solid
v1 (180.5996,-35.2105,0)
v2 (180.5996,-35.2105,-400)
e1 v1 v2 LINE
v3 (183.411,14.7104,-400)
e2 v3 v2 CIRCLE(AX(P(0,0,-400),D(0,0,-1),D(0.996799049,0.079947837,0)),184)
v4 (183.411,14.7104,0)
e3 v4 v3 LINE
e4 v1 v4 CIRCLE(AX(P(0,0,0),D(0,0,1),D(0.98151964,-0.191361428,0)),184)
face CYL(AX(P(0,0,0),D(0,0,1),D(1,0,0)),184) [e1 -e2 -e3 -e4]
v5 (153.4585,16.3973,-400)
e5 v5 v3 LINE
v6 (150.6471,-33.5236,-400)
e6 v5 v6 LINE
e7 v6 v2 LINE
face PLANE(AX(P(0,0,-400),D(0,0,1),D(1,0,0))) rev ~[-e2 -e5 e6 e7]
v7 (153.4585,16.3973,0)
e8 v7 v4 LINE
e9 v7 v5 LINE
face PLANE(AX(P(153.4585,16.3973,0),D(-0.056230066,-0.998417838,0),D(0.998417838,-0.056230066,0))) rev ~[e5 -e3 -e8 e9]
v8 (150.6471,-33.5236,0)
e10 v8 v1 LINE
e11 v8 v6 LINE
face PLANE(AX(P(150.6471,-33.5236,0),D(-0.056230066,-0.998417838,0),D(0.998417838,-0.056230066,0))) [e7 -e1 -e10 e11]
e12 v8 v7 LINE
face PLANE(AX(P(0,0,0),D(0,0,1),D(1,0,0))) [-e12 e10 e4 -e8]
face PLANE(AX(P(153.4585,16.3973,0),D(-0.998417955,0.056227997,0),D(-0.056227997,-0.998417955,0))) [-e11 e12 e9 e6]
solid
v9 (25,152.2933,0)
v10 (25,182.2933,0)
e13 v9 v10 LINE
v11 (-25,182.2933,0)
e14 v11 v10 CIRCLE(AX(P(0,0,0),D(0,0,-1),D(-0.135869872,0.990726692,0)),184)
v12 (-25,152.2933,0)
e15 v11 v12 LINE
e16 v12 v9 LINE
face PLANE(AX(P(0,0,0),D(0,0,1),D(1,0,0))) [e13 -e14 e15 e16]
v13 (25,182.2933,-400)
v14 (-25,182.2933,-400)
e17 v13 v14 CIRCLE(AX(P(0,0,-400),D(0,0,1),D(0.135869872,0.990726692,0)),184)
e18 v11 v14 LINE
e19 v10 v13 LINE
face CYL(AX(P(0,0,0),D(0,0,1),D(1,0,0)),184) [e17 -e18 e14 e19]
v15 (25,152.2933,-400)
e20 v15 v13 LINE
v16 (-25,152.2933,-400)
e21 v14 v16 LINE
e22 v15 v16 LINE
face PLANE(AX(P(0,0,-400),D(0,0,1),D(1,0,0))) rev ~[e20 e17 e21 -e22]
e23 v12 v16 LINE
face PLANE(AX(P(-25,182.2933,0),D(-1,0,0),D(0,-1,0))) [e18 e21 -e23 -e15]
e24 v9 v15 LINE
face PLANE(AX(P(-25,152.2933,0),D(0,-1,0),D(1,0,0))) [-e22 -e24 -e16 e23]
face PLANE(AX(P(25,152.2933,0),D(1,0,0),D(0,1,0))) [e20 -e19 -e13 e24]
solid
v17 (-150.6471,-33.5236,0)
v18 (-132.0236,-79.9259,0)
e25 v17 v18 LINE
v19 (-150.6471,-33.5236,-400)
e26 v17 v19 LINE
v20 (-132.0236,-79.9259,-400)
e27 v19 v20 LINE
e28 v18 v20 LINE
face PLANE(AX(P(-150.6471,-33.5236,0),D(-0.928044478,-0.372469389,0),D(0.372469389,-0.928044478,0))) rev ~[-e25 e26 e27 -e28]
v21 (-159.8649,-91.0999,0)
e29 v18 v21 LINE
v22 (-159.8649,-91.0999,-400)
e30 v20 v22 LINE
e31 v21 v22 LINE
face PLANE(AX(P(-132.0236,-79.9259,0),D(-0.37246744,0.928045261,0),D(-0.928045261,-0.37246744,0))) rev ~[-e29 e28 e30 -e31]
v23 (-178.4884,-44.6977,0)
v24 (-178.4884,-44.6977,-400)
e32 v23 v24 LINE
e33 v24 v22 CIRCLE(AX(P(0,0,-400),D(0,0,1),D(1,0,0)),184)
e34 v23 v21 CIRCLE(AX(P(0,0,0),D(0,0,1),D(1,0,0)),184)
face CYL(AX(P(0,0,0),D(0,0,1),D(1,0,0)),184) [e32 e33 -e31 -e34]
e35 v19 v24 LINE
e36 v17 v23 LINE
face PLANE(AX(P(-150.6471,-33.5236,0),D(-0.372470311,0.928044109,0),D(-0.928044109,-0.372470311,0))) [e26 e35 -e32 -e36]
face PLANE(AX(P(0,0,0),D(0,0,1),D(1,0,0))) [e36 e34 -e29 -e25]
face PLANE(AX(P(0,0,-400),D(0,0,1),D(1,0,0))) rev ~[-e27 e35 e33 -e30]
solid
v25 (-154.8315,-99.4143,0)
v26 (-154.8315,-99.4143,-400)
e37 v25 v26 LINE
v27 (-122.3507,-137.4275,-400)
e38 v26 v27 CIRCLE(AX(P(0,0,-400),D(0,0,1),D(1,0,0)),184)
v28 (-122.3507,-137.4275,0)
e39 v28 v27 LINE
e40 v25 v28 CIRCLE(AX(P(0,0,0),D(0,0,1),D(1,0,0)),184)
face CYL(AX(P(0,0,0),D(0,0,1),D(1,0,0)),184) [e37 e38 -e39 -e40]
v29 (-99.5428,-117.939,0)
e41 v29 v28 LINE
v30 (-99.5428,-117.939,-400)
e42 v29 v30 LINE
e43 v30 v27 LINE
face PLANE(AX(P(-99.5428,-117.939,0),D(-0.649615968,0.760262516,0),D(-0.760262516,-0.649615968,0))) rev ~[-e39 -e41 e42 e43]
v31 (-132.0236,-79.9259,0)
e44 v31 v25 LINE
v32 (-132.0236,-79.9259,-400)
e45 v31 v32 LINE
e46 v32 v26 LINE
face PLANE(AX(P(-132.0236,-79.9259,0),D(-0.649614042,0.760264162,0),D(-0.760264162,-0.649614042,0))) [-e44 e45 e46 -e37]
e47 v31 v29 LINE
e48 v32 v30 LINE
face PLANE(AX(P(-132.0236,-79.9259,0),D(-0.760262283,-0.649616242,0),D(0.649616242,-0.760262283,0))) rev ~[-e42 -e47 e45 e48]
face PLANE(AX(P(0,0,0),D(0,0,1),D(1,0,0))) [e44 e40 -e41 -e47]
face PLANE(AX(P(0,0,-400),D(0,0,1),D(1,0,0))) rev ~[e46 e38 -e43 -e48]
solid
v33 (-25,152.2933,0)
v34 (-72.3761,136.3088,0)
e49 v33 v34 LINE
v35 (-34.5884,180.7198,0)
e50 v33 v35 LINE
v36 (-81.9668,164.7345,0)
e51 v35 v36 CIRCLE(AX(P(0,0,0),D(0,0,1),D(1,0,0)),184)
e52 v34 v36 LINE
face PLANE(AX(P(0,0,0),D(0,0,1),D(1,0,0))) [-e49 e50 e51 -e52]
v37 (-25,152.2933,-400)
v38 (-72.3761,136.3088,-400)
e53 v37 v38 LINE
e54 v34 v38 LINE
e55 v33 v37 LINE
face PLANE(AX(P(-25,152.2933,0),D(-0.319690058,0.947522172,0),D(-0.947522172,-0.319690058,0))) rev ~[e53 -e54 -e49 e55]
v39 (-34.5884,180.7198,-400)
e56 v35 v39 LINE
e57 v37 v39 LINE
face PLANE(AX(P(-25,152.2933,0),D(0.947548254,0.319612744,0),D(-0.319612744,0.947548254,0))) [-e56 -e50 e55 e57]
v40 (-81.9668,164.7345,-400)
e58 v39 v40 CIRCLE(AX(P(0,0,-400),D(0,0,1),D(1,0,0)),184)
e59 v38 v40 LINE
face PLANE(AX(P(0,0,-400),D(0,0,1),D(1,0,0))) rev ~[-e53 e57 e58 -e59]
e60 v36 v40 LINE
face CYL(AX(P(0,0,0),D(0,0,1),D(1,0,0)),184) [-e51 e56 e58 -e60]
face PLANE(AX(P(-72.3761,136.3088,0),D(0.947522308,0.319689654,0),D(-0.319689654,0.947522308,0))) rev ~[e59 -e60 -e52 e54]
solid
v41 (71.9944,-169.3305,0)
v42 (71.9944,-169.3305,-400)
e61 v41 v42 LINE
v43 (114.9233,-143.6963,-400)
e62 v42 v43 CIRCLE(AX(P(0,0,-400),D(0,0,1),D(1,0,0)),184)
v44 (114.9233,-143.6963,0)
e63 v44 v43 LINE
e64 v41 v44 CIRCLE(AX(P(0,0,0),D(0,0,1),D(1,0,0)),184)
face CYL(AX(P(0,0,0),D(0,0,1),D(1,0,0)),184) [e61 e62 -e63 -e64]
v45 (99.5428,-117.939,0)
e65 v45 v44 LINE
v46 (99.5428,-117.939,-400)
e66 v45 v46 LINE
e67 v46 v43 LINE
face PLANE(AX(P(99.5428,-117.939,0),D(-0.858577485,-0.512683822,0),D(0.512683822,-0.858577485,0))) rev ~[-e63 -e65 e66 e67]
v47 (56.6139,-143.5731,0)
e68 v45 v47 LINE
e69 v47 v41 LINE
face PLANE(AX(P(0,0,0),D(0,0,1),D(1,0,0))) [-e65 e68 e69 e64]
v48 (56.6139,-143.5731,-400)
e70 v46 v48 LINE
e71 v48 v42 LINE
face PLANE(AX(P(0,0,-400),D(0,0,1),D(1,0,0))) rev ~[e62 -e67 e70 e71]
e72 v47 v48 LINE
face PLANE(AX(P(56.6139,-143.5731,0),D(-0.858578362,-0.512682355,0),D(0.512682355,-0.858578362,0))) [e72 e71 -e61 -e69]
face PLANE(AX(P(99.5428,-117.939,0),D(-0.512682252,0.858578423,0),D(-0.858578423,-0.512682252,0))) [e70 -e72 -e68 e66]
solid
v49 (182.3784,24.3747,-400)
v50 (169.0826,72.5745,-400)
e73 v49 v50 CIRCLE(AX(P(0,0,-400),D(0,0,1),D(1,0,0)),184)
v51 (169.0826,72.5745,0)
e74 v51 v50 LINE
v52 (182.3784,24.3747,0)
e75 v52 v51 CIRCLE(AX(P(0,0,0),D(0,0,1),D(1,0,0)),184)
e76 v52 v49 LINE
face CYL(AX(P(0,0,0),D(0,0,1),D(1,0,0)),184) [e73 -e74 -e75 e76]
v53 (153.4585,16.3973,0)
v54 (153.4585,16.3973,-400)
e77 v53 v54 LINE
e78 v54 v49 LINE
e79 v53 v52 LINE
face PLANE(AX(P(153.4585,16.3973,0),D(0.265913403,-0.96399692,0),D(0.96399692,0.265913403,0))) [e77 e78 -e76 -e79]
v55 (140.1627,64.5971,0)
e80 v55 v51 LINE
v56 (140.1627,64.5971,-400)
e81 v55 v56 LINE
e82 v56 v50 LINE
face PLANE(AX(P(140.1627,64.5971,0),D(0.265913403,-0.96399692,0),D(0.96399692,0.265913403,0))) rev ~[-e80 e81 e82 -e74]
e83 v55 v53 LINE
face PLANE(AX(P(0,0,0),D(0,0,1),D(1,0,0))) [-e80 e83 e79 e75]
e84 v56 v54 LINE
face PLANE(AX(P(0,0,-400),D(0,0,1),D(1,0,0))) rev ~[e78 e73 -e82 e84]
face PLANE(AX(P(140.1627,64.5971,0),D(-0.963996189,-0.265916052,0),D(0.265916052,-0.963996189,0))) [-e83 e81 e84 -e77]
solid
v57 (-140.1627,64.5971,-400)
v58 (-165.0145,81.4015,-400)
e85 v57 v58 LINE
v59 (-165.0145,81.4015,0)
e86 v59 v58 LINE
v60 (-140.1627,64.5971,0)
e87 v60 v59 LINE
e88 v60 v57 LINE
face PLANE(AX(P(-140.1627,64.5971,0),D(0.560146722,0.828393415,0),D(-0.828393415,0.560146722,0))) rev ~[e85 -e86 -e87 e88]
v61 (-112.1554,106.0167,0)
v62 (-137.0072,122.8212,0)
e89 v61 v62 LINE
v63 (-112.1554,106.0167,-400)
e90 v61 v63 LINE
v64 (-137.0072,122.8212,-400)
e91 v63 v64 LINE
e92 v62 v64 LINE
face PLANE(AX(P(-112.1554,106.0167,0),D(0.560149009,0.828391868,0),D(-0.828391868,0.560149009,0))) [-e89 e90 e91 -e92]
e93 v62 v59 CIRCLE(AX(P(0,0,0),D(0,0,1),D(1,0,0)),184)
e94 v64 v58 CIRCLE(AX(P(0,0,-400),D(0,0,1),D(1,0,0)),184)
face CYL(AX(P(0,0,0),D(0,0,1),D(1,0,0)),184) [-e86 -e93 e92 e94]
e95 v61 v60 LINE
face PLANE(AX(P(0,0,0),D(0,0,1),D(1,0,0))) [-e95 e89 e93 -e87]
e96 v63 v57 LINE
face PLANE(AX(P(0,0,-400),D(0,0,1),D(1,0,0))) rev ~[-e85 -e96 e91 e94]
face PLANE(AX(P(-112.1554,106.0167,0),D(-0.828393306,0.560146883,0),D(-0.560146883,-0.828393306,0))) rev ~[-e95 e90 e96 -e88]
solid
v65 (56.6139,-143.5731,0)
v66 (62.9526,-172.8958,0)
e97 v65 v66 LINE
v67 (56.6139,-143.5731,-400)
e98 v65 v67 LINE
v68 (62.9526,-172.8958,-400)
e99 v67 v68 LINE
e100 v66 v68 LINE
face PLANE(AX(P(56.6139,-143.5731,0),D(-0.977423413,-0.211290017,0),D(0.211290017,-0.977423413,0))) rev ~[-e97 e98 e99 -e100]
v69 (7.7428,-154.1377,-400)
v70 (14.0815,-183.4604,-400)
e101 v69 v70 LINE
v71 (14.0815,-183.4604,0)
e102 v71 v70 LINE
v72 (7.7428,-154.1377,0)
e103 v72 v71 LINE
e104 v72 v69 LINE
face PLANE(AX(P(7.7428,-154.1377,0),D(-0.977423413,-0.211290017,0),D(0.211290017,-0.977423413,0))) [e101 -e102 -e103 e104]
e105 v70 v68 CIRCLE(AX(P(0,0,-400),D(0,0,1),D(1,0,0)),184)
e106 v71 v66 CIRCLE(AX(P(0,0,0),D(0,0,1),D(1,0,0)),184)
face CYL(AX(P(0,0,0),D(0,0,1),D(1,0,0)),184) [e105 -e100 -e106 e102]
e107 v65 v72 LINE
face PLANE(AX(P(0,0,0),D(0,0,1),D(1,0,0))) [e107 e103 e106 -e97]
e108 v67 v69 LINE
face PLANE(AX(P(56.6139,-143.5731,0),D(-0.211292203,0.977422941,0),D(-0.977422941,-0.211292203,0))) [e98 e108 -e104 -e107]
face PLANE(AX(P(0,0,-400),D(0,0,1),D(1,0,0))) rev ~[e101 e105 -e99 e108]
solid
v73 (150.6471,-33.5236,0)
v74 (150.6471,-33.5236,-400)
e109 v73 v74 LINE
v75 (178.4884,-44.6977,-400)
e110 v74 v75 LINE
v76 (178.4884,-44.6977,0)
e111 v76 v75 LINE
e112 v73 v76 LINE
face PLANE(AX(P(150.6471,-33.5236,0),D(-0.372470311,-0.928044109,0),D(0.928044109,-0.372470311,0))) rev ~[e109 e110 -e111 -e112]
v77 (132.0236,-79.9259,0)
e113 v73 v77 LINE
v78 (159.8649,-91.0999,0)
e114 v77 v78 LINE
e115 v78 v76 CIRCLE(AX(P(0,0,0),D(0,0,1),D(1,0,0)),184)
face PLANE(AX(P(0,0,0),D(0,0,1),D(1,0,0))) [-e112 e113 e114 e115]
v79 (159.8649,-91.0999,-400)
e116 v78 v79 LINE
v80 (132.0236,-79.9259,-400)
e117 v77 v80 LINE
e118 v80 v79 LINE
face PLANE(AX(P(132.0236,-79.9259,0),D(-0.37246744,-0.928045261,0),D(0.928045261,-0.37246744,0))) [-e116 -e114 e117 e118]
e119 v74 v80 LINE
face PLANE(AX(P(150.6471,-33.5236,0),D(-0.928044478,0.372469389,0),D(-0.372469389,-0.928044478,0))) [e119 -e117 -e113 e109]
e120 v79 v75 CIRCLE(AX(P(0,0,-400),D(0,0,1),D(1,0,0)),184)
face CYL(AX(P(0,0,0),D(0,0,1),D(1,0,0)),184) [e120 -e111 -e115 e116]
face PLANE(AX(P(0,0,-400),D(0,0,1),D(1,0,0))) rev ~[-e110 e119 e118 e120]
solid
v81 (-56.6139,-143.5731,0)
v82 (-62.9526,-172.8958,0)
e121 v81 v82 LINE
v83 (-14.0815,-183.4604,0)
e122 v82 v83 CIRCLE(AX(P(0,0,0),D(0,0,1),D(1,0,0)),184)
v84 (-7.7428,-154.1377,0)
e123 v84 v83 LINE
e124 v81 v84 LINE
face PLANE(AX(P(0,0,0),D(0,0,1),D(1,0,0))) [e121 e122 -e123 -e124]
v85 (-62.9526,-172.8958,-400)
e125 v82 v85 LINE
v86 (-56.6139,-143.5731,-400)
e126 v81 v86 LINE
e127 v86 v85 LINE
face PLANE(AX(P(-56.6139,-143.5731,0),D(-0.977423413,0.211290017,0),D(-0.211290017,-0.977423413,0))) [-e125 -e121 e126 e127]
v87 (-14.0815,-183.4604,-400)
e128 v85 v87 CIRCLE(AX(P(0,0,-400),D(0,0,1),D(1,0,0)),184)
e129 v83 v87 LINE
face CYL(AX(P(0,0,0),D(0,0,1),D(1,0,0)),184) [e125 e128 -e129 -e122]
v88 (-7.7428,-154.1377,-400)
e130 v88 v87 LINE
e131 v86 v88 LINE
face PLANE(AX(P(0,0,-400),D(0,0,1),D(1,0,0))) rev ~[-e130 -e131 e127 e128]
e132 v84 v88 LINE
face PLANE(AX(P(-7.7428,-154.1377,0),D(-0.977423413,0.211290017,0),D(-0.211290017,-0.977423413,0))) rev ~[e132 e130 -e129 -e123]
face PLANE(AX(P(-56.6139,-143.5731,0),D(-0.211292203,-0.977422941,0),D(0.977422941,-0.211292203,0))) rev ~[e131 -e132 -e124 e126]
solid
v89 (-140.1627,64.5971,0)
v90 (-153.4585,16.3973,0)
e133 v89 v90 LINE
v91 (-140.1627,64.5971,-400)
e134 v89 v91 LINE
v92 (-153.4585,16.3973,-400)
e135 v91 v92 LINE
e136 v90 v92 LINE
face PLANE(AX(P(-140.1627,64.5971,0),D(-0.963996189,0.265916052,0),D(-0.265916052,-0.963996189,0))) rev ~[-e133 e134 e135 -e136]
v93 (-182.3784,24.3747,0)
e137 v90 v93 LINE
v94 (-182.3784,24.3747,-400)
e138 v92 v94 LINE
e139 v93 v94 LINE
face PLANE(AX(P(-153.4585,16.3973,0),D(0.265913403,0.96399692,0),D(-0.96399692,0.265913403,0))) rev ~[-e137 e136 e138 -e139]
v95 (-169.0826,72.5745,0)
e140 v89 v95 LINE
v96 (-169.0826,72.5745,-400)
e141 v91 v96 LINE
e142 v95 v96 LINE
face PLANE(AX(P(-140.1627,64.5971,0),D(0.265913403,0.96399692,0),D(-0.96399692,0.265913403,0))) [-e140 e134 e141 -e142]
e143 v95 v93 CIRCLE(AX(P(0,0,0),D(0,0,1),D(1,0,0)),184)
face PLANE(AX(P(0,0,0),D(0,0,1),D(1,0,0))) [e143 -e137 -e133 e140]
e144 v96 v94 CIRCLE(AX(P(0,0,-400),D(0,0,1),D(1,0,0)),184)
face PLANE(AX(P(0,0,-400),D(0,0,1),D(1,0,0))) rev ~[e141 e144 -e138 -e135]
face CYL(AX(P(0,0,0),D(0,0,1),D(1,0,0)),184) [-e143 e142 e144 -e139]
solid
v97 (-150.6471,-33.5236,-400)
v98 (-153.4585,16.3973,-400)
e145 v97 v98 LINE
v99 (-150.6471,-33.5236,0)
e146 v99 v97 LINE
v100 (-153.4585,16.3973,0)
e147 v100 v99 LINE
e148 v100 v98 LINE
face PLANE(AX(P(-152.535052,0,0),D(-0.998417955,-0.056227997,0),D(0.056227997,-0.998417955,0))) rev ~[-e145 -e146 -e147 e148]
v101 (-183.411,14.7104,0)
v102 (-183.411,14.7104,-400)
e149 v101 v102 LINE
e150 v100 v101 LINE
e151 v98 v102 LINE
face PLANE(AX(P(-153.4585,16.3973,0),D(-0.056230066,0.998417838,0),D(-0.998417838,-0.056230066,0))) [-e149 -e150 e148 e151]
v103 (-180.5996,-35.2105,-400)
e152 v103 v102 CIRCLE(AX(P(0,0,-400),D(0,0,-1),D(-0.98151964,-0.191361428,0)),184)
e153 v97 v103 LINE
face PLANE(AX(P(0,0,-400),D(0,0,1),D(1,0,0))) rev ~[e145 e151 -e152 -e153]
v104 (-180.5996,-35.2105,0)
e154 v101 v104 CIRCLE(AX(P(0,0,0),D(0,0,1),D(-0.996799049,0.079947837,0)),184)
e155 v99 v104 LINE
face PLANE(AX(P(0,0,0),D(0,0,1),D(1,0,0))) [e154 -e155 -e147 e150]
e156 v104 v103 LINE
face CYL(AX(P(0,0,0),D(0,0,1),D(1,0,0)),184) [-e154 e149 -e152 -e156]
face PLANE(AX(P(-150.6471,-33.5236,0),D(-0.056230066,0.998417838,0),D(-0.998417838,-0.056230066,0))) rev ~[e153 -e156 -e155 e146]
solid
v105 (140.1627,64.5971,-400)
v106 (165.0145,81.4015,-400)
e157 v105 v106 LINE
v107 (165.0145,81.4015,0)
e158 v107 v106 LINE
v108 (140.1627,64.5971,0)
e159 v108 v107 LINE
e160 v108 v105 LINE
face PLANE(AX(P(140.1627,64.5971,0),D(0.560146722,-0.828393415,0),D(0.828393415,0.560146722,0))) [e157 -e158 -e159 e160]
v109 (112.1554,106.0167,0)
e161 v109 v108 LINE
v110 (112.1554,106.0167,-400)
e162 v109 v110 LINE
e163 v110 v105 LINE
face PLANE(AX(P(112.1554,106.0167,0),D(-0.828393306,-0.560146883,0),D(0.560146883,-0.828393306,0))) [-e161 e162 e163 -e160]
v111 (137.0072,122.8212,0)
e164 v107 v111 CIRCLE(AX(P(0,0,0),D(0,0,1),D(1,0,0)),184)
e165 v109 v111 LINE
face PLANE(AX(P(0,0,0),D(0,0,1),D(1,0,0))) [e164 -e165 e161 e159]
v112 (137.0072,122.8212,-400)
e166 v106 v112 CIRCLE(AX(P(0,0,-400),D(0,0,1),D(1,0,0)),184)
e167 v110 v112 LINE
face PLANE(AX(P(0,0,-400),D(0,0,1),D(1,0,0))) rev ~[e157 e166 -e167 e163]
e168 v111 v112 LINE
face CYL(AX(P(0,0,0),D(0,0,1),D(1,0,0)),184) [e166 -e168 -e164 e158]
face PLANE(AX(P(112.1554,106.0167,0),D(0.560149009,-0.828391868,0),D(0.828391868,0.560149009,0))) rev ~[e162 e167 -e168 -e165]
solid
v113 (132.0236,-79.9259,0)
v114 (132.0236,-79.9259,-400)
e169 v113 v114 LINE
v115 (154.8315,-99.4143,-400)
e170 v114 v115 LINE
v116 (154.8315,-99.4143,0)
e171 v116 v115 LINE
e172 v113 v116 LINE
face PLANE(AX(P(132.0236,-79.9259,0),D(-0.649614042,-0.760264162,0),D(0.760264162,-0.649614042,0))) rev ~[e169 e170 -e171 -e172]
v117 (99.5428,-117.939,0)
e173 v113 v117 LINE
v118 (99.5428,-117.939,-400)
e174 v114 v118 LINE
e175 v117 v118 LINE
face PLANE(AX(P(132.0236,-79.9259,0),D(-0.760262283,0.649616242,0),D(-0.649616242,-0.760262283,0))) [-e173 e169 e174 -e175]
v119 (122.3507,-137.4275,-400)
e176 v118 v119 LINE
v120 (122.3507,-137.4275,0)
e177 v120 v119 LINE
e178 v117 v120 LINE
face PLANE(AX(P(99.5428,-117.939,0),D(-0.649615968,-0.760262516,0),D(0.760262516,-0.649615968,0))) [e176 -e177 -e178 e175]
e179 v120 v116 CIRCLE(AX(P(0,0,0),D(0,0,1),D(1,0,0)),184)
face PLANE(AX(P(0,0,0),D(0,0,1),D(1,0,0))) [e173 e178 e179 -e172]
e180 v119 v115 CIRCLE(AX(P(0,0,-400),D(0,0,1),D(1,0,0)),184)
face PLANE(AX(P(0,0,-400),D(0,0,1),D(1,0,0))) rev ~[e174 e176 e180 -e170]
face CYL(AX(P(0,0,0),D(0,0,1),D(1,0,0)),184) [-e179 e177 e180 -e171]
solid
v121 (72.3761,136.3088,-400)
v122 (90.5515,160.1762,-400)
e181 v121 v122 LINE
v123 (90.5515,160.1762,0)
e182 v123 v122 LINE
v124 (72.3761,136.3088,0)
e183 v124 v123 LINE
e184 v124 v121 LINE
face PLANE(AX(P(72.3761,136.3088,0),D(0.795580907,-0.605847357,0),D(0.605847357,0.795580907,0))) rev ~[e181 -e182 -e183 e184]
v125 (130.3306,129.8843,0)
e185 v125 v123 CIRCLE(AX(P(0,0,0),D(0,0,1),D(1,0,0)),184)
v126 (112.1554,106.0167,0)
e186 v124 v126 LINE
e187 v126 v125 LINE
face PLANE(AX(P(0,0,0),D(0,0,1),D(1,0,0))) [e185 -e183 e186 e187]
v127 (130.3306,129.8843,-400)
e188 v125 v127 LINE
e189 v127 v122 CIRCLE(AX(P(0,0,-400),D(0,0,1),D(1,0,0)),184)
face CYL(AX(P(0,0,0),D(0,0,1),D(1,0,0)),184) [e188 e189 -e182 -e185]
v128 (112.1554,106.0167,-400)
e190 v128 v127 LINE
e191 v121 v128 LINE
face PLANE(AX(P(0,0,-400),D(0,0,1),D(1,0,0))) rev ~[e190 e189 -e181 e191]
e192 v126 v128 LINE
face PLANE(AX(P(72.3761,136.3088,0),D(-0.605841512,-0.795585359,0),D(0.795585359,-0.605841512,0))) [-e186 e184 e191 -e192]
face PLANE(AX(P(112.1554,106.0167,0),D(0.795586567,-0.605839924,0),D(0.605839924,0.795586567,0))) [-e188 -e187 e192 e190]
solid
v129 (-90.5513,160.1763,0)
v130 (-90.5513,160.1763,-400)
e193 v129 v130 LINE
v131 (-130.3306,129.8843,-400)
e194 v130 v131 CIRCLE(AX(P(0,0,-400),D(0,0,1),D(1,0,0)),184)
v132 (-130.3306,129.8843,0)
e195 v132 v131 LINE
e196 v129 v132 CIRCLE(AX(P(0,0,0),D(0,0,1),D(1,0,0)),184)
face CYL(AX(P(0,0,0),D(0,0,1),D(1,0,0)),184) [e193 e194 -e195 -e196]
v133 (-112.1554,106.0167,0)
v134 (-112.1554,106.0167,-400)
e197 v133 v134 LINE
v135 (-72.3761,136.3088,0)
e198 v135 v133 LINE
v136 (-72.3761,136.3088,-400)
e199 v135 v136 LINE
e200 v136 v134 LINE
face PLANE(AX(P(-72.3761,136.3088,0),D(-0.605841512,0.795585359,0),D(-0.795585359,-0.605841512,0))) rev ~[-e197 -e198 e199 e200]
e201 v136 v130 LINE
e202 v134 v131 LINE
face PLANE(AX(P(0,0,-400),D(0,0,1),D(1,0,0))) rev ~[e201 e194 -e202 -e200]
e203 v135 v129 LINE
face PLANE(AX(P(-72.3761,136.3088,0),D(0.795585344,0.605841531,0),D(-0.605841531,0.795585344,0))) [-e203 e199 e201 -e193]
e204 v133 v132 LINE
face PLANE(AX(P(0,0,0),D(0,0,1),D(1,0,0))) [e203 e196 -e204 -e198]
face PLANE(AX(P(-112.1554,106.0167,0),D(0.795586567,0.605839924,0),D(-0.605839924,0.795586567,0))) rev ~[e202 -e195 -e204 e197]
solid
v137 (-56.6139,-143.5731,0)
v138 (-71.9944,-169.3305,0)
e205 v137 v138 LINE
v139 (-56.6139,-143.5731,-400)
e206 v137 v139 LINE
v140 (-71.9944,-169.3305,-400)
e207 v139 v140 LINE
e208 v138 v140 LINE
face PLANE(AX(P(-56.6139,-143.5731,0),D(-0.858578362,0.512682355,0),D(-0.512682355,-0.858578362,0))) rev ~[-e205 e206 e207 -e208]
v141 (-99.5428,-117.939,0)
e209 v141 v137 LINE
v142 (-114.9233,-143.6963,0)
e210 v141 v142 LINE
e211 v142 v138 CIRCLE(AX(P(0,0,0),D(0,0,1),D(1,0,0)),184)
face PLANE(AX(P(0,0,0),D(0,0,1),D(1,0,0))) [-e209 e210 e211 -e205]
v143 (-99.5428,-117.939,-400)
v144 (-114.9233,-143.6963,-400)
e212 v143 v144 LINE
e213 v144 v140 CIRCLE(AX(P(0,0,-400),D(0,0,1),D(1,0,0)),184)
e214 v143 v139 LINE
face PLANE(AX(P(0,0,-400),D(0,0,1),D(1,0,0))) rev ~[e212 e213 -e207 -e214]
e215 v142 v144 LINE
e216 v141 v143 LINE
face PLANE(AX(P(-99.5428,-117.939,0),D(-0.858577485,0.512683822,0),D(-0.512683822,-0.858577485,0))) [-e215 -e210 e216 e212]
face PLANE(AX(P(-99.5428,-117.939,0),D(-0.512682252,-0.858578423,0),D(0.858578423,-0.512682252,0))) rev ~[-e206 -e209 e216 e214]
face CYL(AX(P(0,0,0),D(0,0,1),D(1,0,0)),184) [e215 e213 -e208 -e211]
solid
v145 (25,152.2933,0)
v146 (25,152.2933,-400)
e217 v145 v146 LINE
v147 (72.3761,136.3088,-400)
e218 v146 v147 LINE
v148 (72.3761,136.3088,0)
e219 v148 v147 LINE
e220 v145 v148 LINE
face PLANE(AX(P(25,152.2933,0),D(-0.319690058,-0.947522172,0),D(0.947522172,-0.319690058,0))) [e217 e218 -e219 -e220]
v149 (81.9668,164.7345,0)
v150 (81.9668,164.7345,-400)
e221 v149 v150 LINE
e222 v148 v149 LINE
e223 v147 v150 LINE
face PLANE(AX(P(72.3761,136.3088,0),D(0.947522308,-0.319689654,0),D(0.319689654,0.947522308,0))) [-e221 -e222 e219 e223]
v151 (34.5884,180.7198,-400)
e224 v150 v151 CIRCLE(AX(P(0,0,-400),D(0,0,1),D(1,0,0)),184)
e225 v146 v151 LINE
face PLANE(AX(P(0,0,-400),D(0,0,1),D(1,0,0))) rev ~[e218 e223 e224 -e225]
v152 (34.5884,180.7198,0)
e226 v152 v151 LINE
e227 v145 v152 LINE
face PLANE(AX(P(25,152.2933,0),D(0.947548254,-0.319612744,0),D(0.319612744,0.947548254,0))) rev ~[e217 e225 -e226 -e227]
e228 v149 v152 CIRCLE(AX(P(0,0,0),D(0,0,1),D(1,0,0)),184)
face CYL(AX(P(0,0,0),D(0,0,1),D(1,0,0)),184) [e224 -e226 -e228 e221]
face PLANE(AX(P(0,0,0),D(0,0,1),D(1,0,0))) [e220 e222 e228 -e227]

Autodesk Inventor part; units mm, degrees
ref_plane "YZ Plane" through (0, 0, 0) normal (1, 0, 0) x (0, 1, 0)
ref_plane "XZ Plane" through (0, 0, 0) normal (0, 1, 0) x (-1, 0, 0)
ref_plane "XY Plane" through (0, 0, 0) normal (0, 0, 1) x (1, 0, 0)
sketch "Skizze1" plane through (0, 0, 0) normal (0, 0, 1) x (1, 0, 0)
  line L0 (-257.6, 0) -> (257.6, 0) projected
  line L1 (0, -257.6) -> (0, 257.6) projected
  circle A0 centre (0, 0) radius 184
  line L2 (-25, 182.2933) -> (-25, 152.2933)
  line L3 (-25, 152.2933) -> (25, 152.2933)
  line L4 (25, 152.2933) -> (25, 182.2933)
  arc A1 (25, 182.2933) -> (-25, 182.2933) centre (0, 0.0397) ccw
  dimension "d11" = 368
  dimension "d13" = 25
  dimension "d15" = 50
extrude "Extrusion1" add sketch "Skizze1" against normal blind 400 contours A0 L1 L3 L2 | L1 A0 L4 L3
sketch "Skizze2" plane through (0, 0, 0) normal (0, 0, 1) x (1, 0, 0)
  circle A0 centre (0, 0) radius 184
  arc A1 (25, 182.2933) -> (-25, 182.2933) centre (0, 0.0397) ccw projected
  line L0 (-25, 152.2933) -> (-25, 182.2933) projected
  arc A2 (25, 182.2933) -> (-25, 182.2933) centre (0, 0.0397) ccw
  line L1 (-25, 182.2933) -> (-25, 152.2933)
  line L2 (25, 152.2933) -> (-25, 152.2933) projected
  line L3 (25, 152.2933) -> (25, 182.2933)
  line L4 (-25, 152.2933) -> (-72.3761, 136.3088)
  line L5 (-72.3761, 136.3088) -> (-81.9668, 164.7345)
  line L6 (-25, 152.2933) -> (-34.5884, 180.7198)
  line L7 (25, 152.2933) -> (72.3761, 136.3088)
  line L8 (72.3761, 136.3088) -> (81.9668, 164.7345)
  line L9 (25, 152.2933) -> (34.5884, 180.7198)
  line L10 (72.3761, 136.3088) -> (112.1554, 106.0167)
  line L11 (112.1554, 106.0167) -> (130.3306, 129.8843)
  line L12 (72.3761, 136.3088) -> (90.5515, 160.1762)
  line L13 (-72.3761, 136.3088) -> (-112.1554, 106.0167)
  line L14 (-112.1554, 106.0167) -> (-130.3306, 129.8843)
  line L15 (-72.3761, 136.3088) -> (-90.5513, 160.1763)
  line L16 (-257.6, 0) -> (257.6, 0) projected
  line L17 (0, -257.6) -> (0, 257.6) projected
  line L18 (-112.1554, 106.0167) -> (-140.1627, 64.5971)
  line L19 (-140.1627, 64.5971) -> (-165.0145, 81.4015)
  line L20 (-112.1554, 106.0167) -> (-137.0072, 122.8212)
  line L21 (-140.1627, 64.5971) -> (-153.4585, 16.3973)
  line L22 (-153.4585, 16.3973) -> (-182.3784, 24.3747)
  line L23 (-140.1627, 64.5971) -> (-169.0826, 72.5745)
  line L24 (-153.4585, 16.3973) -> (-150.6471, -33.5236)
  line L25 (-150.6471, -33.5236) -> (-180.5996, -35.2105)
  line L26 (-153.4585, 16.3973) -> (-183.411, 14.7104)
  line L27 (-150.6471, -33.5236) -> (-132.0236, -79.9259)
  line L28 (-132.0236, -79.9259) -> (-159.8649, -91.0999)
  line L29 (-150.6471, -33.5236) -> (-178.4884, -44.6977)
  line L30 (-132.0236, -79.9259) -> (-99.5428, -117.939)
  line L31 (-99.5428, -117.939) -> (-122.3507, -137.4275)
  line L32 (-132.0236, -79.9259) -> (-154.8315, -99.4143)
  line L33 (-99.5428, -117.939) -> (-56.6139, -143.5731)
  line L34 (-56.6139, -143.5731) -> (-71.9944, -169.3305)
  line L35 (-99.5428, -117.939) -> (-114.9233, -143.6963)
  line L36 (-56.6139, -143.5731) -> (-7.7428, -154.1377)
  line L37 (-7.7428, -154.1377) -> (-14.0815, -183.4604)
  line L38 (-56.6139, -143.5731) -> (-62.9526, -172.8958)
  line L39 (112.1554, 106.0167) -> (140.1627, 64.5971)
  line L40 (140.1627, 64.5971) -> (165.0145, 81.4015)
  line L41 (112.1554, 106.0167) -> (137.0072, 122.8212)
  line L42 (140.1627, 64.5971) -> (153.4585, 16.3973)
  line L43 (153.4585, 16.3973) -> (182.3784, 24.3747)
  line L44 (140.1627, 64.5971) -> (169.0826, 72.5745)
  line L45 (153.4585, 16.3973) -> (150.6471, -33.5236)
  line L46 (150.6471, -33.5236) -> (180.5996, -35.2105)
  line L47 (153.4585, 16.3973) -> (183.411, 14.7104)
  line L48 (150.6471, -33.5236) -> (132.0236, -79.9259)
  line L49 (132.0236, -79.9259) -> (159.8649, -91.0999)
  line L50 (150.6471, -33.5236) -> (178.4884, -44.6977)
  line L51 (132.0236, -79.9259) -> (99.5428, -117.939)
  line L52 (99.5428, -117.939) -> (122.3507, -137.4275)
  line L53 (132.0236, -79.9259) -> (154.8315, -99.4143)
  line L54 (99.5428, -117.939) -> (56.6139, -143.5731)
  line L55 (56.6139, -143.5731) -> (71.9944, -169.3305)
  line L56 (99.5428, -117.939) -> (114.9233, -143.6963)
  line L57 (56.6139, -143.5731) -> (7.7428, -154.1377)
  line L58 (7.7428, -154.1377) -> (14.0815, -183.4604)
  line L59 (56.6139, -143.5731) -> (62.9526, -172.8958)
  dimension "d18" = 368
  dimension "d20" = 50
  dimension "d21" = 30
  dimension "d22" = 50
  dimension "d23" = 30
  dimension "d24" = 90
  dimension "d25" = 90.005
  dimension "d26" = 90.005
  dimension "d27" = 50
  dimension "d28" = 30
  dimension "d29" = 90
  dimension "d30" = 90
  dimension "d31" = 50
  dimension "d32" = 30
  dimension "d34" = 90
  dimension "d35" = 90
  dimension "d37" = 50
  dimension "d38" = 30
  dimension "d40" = 90
  dimension "d41" = 90
  dimension "d42" = 50
  dimension "d43" = 30
  dimension "d44" = 90
  dimension "d52" = 50
  dimension "d53" = 30
  dimension "d54" = 90
  dimension "d55" = 50
  dimension "d56" = 30
  dimension "d57" = 90
  dimension "d58" = 90
  dimension "d59" = 50
  dimension "d60" = 30
  dimension "d61" = 90
  dimension "d62" = 90
  dimension "d66" = 50
  dimension "d67" = 30
  dimension "d68" = 90
  dimension "d69" = 50
  dimension "d70" = 30
  dimension "d71" = 90
  dimension "d72" = 90
extrude "Extrusion2" add sketch "Skizze2" against normal blind 400 contours L16 L45 L47 A0 | A0 L46 L45 L16 | L43 L42 L44 A0 | A0 L49 L48 L50 | L39 L41 A0 L40 | L53 A0 L52 L51 | L24 L25 A0 L16 | L16 A0 L26 L24 | L10 L12 A0 L11 | L56 A0 L55 L54 | L22 A0 L23 L21 | L27 L28 A0 L29 | A0 L38 L36 L37 | L58 L57 L59 A0 | L9 A0 L8 L7 | L4 L5 A0 L6 | L19 A0 L20 L18 | L30 L31 A0 L32 | L13 L14 A0 L15 | L33 L34 A0 L35
sketch "Skizze3" plane through (0, 0, 0) normal (0, 0, 1) x (1, 0, 0)
  point P0 (0, 0)
properties part number "XPS"
